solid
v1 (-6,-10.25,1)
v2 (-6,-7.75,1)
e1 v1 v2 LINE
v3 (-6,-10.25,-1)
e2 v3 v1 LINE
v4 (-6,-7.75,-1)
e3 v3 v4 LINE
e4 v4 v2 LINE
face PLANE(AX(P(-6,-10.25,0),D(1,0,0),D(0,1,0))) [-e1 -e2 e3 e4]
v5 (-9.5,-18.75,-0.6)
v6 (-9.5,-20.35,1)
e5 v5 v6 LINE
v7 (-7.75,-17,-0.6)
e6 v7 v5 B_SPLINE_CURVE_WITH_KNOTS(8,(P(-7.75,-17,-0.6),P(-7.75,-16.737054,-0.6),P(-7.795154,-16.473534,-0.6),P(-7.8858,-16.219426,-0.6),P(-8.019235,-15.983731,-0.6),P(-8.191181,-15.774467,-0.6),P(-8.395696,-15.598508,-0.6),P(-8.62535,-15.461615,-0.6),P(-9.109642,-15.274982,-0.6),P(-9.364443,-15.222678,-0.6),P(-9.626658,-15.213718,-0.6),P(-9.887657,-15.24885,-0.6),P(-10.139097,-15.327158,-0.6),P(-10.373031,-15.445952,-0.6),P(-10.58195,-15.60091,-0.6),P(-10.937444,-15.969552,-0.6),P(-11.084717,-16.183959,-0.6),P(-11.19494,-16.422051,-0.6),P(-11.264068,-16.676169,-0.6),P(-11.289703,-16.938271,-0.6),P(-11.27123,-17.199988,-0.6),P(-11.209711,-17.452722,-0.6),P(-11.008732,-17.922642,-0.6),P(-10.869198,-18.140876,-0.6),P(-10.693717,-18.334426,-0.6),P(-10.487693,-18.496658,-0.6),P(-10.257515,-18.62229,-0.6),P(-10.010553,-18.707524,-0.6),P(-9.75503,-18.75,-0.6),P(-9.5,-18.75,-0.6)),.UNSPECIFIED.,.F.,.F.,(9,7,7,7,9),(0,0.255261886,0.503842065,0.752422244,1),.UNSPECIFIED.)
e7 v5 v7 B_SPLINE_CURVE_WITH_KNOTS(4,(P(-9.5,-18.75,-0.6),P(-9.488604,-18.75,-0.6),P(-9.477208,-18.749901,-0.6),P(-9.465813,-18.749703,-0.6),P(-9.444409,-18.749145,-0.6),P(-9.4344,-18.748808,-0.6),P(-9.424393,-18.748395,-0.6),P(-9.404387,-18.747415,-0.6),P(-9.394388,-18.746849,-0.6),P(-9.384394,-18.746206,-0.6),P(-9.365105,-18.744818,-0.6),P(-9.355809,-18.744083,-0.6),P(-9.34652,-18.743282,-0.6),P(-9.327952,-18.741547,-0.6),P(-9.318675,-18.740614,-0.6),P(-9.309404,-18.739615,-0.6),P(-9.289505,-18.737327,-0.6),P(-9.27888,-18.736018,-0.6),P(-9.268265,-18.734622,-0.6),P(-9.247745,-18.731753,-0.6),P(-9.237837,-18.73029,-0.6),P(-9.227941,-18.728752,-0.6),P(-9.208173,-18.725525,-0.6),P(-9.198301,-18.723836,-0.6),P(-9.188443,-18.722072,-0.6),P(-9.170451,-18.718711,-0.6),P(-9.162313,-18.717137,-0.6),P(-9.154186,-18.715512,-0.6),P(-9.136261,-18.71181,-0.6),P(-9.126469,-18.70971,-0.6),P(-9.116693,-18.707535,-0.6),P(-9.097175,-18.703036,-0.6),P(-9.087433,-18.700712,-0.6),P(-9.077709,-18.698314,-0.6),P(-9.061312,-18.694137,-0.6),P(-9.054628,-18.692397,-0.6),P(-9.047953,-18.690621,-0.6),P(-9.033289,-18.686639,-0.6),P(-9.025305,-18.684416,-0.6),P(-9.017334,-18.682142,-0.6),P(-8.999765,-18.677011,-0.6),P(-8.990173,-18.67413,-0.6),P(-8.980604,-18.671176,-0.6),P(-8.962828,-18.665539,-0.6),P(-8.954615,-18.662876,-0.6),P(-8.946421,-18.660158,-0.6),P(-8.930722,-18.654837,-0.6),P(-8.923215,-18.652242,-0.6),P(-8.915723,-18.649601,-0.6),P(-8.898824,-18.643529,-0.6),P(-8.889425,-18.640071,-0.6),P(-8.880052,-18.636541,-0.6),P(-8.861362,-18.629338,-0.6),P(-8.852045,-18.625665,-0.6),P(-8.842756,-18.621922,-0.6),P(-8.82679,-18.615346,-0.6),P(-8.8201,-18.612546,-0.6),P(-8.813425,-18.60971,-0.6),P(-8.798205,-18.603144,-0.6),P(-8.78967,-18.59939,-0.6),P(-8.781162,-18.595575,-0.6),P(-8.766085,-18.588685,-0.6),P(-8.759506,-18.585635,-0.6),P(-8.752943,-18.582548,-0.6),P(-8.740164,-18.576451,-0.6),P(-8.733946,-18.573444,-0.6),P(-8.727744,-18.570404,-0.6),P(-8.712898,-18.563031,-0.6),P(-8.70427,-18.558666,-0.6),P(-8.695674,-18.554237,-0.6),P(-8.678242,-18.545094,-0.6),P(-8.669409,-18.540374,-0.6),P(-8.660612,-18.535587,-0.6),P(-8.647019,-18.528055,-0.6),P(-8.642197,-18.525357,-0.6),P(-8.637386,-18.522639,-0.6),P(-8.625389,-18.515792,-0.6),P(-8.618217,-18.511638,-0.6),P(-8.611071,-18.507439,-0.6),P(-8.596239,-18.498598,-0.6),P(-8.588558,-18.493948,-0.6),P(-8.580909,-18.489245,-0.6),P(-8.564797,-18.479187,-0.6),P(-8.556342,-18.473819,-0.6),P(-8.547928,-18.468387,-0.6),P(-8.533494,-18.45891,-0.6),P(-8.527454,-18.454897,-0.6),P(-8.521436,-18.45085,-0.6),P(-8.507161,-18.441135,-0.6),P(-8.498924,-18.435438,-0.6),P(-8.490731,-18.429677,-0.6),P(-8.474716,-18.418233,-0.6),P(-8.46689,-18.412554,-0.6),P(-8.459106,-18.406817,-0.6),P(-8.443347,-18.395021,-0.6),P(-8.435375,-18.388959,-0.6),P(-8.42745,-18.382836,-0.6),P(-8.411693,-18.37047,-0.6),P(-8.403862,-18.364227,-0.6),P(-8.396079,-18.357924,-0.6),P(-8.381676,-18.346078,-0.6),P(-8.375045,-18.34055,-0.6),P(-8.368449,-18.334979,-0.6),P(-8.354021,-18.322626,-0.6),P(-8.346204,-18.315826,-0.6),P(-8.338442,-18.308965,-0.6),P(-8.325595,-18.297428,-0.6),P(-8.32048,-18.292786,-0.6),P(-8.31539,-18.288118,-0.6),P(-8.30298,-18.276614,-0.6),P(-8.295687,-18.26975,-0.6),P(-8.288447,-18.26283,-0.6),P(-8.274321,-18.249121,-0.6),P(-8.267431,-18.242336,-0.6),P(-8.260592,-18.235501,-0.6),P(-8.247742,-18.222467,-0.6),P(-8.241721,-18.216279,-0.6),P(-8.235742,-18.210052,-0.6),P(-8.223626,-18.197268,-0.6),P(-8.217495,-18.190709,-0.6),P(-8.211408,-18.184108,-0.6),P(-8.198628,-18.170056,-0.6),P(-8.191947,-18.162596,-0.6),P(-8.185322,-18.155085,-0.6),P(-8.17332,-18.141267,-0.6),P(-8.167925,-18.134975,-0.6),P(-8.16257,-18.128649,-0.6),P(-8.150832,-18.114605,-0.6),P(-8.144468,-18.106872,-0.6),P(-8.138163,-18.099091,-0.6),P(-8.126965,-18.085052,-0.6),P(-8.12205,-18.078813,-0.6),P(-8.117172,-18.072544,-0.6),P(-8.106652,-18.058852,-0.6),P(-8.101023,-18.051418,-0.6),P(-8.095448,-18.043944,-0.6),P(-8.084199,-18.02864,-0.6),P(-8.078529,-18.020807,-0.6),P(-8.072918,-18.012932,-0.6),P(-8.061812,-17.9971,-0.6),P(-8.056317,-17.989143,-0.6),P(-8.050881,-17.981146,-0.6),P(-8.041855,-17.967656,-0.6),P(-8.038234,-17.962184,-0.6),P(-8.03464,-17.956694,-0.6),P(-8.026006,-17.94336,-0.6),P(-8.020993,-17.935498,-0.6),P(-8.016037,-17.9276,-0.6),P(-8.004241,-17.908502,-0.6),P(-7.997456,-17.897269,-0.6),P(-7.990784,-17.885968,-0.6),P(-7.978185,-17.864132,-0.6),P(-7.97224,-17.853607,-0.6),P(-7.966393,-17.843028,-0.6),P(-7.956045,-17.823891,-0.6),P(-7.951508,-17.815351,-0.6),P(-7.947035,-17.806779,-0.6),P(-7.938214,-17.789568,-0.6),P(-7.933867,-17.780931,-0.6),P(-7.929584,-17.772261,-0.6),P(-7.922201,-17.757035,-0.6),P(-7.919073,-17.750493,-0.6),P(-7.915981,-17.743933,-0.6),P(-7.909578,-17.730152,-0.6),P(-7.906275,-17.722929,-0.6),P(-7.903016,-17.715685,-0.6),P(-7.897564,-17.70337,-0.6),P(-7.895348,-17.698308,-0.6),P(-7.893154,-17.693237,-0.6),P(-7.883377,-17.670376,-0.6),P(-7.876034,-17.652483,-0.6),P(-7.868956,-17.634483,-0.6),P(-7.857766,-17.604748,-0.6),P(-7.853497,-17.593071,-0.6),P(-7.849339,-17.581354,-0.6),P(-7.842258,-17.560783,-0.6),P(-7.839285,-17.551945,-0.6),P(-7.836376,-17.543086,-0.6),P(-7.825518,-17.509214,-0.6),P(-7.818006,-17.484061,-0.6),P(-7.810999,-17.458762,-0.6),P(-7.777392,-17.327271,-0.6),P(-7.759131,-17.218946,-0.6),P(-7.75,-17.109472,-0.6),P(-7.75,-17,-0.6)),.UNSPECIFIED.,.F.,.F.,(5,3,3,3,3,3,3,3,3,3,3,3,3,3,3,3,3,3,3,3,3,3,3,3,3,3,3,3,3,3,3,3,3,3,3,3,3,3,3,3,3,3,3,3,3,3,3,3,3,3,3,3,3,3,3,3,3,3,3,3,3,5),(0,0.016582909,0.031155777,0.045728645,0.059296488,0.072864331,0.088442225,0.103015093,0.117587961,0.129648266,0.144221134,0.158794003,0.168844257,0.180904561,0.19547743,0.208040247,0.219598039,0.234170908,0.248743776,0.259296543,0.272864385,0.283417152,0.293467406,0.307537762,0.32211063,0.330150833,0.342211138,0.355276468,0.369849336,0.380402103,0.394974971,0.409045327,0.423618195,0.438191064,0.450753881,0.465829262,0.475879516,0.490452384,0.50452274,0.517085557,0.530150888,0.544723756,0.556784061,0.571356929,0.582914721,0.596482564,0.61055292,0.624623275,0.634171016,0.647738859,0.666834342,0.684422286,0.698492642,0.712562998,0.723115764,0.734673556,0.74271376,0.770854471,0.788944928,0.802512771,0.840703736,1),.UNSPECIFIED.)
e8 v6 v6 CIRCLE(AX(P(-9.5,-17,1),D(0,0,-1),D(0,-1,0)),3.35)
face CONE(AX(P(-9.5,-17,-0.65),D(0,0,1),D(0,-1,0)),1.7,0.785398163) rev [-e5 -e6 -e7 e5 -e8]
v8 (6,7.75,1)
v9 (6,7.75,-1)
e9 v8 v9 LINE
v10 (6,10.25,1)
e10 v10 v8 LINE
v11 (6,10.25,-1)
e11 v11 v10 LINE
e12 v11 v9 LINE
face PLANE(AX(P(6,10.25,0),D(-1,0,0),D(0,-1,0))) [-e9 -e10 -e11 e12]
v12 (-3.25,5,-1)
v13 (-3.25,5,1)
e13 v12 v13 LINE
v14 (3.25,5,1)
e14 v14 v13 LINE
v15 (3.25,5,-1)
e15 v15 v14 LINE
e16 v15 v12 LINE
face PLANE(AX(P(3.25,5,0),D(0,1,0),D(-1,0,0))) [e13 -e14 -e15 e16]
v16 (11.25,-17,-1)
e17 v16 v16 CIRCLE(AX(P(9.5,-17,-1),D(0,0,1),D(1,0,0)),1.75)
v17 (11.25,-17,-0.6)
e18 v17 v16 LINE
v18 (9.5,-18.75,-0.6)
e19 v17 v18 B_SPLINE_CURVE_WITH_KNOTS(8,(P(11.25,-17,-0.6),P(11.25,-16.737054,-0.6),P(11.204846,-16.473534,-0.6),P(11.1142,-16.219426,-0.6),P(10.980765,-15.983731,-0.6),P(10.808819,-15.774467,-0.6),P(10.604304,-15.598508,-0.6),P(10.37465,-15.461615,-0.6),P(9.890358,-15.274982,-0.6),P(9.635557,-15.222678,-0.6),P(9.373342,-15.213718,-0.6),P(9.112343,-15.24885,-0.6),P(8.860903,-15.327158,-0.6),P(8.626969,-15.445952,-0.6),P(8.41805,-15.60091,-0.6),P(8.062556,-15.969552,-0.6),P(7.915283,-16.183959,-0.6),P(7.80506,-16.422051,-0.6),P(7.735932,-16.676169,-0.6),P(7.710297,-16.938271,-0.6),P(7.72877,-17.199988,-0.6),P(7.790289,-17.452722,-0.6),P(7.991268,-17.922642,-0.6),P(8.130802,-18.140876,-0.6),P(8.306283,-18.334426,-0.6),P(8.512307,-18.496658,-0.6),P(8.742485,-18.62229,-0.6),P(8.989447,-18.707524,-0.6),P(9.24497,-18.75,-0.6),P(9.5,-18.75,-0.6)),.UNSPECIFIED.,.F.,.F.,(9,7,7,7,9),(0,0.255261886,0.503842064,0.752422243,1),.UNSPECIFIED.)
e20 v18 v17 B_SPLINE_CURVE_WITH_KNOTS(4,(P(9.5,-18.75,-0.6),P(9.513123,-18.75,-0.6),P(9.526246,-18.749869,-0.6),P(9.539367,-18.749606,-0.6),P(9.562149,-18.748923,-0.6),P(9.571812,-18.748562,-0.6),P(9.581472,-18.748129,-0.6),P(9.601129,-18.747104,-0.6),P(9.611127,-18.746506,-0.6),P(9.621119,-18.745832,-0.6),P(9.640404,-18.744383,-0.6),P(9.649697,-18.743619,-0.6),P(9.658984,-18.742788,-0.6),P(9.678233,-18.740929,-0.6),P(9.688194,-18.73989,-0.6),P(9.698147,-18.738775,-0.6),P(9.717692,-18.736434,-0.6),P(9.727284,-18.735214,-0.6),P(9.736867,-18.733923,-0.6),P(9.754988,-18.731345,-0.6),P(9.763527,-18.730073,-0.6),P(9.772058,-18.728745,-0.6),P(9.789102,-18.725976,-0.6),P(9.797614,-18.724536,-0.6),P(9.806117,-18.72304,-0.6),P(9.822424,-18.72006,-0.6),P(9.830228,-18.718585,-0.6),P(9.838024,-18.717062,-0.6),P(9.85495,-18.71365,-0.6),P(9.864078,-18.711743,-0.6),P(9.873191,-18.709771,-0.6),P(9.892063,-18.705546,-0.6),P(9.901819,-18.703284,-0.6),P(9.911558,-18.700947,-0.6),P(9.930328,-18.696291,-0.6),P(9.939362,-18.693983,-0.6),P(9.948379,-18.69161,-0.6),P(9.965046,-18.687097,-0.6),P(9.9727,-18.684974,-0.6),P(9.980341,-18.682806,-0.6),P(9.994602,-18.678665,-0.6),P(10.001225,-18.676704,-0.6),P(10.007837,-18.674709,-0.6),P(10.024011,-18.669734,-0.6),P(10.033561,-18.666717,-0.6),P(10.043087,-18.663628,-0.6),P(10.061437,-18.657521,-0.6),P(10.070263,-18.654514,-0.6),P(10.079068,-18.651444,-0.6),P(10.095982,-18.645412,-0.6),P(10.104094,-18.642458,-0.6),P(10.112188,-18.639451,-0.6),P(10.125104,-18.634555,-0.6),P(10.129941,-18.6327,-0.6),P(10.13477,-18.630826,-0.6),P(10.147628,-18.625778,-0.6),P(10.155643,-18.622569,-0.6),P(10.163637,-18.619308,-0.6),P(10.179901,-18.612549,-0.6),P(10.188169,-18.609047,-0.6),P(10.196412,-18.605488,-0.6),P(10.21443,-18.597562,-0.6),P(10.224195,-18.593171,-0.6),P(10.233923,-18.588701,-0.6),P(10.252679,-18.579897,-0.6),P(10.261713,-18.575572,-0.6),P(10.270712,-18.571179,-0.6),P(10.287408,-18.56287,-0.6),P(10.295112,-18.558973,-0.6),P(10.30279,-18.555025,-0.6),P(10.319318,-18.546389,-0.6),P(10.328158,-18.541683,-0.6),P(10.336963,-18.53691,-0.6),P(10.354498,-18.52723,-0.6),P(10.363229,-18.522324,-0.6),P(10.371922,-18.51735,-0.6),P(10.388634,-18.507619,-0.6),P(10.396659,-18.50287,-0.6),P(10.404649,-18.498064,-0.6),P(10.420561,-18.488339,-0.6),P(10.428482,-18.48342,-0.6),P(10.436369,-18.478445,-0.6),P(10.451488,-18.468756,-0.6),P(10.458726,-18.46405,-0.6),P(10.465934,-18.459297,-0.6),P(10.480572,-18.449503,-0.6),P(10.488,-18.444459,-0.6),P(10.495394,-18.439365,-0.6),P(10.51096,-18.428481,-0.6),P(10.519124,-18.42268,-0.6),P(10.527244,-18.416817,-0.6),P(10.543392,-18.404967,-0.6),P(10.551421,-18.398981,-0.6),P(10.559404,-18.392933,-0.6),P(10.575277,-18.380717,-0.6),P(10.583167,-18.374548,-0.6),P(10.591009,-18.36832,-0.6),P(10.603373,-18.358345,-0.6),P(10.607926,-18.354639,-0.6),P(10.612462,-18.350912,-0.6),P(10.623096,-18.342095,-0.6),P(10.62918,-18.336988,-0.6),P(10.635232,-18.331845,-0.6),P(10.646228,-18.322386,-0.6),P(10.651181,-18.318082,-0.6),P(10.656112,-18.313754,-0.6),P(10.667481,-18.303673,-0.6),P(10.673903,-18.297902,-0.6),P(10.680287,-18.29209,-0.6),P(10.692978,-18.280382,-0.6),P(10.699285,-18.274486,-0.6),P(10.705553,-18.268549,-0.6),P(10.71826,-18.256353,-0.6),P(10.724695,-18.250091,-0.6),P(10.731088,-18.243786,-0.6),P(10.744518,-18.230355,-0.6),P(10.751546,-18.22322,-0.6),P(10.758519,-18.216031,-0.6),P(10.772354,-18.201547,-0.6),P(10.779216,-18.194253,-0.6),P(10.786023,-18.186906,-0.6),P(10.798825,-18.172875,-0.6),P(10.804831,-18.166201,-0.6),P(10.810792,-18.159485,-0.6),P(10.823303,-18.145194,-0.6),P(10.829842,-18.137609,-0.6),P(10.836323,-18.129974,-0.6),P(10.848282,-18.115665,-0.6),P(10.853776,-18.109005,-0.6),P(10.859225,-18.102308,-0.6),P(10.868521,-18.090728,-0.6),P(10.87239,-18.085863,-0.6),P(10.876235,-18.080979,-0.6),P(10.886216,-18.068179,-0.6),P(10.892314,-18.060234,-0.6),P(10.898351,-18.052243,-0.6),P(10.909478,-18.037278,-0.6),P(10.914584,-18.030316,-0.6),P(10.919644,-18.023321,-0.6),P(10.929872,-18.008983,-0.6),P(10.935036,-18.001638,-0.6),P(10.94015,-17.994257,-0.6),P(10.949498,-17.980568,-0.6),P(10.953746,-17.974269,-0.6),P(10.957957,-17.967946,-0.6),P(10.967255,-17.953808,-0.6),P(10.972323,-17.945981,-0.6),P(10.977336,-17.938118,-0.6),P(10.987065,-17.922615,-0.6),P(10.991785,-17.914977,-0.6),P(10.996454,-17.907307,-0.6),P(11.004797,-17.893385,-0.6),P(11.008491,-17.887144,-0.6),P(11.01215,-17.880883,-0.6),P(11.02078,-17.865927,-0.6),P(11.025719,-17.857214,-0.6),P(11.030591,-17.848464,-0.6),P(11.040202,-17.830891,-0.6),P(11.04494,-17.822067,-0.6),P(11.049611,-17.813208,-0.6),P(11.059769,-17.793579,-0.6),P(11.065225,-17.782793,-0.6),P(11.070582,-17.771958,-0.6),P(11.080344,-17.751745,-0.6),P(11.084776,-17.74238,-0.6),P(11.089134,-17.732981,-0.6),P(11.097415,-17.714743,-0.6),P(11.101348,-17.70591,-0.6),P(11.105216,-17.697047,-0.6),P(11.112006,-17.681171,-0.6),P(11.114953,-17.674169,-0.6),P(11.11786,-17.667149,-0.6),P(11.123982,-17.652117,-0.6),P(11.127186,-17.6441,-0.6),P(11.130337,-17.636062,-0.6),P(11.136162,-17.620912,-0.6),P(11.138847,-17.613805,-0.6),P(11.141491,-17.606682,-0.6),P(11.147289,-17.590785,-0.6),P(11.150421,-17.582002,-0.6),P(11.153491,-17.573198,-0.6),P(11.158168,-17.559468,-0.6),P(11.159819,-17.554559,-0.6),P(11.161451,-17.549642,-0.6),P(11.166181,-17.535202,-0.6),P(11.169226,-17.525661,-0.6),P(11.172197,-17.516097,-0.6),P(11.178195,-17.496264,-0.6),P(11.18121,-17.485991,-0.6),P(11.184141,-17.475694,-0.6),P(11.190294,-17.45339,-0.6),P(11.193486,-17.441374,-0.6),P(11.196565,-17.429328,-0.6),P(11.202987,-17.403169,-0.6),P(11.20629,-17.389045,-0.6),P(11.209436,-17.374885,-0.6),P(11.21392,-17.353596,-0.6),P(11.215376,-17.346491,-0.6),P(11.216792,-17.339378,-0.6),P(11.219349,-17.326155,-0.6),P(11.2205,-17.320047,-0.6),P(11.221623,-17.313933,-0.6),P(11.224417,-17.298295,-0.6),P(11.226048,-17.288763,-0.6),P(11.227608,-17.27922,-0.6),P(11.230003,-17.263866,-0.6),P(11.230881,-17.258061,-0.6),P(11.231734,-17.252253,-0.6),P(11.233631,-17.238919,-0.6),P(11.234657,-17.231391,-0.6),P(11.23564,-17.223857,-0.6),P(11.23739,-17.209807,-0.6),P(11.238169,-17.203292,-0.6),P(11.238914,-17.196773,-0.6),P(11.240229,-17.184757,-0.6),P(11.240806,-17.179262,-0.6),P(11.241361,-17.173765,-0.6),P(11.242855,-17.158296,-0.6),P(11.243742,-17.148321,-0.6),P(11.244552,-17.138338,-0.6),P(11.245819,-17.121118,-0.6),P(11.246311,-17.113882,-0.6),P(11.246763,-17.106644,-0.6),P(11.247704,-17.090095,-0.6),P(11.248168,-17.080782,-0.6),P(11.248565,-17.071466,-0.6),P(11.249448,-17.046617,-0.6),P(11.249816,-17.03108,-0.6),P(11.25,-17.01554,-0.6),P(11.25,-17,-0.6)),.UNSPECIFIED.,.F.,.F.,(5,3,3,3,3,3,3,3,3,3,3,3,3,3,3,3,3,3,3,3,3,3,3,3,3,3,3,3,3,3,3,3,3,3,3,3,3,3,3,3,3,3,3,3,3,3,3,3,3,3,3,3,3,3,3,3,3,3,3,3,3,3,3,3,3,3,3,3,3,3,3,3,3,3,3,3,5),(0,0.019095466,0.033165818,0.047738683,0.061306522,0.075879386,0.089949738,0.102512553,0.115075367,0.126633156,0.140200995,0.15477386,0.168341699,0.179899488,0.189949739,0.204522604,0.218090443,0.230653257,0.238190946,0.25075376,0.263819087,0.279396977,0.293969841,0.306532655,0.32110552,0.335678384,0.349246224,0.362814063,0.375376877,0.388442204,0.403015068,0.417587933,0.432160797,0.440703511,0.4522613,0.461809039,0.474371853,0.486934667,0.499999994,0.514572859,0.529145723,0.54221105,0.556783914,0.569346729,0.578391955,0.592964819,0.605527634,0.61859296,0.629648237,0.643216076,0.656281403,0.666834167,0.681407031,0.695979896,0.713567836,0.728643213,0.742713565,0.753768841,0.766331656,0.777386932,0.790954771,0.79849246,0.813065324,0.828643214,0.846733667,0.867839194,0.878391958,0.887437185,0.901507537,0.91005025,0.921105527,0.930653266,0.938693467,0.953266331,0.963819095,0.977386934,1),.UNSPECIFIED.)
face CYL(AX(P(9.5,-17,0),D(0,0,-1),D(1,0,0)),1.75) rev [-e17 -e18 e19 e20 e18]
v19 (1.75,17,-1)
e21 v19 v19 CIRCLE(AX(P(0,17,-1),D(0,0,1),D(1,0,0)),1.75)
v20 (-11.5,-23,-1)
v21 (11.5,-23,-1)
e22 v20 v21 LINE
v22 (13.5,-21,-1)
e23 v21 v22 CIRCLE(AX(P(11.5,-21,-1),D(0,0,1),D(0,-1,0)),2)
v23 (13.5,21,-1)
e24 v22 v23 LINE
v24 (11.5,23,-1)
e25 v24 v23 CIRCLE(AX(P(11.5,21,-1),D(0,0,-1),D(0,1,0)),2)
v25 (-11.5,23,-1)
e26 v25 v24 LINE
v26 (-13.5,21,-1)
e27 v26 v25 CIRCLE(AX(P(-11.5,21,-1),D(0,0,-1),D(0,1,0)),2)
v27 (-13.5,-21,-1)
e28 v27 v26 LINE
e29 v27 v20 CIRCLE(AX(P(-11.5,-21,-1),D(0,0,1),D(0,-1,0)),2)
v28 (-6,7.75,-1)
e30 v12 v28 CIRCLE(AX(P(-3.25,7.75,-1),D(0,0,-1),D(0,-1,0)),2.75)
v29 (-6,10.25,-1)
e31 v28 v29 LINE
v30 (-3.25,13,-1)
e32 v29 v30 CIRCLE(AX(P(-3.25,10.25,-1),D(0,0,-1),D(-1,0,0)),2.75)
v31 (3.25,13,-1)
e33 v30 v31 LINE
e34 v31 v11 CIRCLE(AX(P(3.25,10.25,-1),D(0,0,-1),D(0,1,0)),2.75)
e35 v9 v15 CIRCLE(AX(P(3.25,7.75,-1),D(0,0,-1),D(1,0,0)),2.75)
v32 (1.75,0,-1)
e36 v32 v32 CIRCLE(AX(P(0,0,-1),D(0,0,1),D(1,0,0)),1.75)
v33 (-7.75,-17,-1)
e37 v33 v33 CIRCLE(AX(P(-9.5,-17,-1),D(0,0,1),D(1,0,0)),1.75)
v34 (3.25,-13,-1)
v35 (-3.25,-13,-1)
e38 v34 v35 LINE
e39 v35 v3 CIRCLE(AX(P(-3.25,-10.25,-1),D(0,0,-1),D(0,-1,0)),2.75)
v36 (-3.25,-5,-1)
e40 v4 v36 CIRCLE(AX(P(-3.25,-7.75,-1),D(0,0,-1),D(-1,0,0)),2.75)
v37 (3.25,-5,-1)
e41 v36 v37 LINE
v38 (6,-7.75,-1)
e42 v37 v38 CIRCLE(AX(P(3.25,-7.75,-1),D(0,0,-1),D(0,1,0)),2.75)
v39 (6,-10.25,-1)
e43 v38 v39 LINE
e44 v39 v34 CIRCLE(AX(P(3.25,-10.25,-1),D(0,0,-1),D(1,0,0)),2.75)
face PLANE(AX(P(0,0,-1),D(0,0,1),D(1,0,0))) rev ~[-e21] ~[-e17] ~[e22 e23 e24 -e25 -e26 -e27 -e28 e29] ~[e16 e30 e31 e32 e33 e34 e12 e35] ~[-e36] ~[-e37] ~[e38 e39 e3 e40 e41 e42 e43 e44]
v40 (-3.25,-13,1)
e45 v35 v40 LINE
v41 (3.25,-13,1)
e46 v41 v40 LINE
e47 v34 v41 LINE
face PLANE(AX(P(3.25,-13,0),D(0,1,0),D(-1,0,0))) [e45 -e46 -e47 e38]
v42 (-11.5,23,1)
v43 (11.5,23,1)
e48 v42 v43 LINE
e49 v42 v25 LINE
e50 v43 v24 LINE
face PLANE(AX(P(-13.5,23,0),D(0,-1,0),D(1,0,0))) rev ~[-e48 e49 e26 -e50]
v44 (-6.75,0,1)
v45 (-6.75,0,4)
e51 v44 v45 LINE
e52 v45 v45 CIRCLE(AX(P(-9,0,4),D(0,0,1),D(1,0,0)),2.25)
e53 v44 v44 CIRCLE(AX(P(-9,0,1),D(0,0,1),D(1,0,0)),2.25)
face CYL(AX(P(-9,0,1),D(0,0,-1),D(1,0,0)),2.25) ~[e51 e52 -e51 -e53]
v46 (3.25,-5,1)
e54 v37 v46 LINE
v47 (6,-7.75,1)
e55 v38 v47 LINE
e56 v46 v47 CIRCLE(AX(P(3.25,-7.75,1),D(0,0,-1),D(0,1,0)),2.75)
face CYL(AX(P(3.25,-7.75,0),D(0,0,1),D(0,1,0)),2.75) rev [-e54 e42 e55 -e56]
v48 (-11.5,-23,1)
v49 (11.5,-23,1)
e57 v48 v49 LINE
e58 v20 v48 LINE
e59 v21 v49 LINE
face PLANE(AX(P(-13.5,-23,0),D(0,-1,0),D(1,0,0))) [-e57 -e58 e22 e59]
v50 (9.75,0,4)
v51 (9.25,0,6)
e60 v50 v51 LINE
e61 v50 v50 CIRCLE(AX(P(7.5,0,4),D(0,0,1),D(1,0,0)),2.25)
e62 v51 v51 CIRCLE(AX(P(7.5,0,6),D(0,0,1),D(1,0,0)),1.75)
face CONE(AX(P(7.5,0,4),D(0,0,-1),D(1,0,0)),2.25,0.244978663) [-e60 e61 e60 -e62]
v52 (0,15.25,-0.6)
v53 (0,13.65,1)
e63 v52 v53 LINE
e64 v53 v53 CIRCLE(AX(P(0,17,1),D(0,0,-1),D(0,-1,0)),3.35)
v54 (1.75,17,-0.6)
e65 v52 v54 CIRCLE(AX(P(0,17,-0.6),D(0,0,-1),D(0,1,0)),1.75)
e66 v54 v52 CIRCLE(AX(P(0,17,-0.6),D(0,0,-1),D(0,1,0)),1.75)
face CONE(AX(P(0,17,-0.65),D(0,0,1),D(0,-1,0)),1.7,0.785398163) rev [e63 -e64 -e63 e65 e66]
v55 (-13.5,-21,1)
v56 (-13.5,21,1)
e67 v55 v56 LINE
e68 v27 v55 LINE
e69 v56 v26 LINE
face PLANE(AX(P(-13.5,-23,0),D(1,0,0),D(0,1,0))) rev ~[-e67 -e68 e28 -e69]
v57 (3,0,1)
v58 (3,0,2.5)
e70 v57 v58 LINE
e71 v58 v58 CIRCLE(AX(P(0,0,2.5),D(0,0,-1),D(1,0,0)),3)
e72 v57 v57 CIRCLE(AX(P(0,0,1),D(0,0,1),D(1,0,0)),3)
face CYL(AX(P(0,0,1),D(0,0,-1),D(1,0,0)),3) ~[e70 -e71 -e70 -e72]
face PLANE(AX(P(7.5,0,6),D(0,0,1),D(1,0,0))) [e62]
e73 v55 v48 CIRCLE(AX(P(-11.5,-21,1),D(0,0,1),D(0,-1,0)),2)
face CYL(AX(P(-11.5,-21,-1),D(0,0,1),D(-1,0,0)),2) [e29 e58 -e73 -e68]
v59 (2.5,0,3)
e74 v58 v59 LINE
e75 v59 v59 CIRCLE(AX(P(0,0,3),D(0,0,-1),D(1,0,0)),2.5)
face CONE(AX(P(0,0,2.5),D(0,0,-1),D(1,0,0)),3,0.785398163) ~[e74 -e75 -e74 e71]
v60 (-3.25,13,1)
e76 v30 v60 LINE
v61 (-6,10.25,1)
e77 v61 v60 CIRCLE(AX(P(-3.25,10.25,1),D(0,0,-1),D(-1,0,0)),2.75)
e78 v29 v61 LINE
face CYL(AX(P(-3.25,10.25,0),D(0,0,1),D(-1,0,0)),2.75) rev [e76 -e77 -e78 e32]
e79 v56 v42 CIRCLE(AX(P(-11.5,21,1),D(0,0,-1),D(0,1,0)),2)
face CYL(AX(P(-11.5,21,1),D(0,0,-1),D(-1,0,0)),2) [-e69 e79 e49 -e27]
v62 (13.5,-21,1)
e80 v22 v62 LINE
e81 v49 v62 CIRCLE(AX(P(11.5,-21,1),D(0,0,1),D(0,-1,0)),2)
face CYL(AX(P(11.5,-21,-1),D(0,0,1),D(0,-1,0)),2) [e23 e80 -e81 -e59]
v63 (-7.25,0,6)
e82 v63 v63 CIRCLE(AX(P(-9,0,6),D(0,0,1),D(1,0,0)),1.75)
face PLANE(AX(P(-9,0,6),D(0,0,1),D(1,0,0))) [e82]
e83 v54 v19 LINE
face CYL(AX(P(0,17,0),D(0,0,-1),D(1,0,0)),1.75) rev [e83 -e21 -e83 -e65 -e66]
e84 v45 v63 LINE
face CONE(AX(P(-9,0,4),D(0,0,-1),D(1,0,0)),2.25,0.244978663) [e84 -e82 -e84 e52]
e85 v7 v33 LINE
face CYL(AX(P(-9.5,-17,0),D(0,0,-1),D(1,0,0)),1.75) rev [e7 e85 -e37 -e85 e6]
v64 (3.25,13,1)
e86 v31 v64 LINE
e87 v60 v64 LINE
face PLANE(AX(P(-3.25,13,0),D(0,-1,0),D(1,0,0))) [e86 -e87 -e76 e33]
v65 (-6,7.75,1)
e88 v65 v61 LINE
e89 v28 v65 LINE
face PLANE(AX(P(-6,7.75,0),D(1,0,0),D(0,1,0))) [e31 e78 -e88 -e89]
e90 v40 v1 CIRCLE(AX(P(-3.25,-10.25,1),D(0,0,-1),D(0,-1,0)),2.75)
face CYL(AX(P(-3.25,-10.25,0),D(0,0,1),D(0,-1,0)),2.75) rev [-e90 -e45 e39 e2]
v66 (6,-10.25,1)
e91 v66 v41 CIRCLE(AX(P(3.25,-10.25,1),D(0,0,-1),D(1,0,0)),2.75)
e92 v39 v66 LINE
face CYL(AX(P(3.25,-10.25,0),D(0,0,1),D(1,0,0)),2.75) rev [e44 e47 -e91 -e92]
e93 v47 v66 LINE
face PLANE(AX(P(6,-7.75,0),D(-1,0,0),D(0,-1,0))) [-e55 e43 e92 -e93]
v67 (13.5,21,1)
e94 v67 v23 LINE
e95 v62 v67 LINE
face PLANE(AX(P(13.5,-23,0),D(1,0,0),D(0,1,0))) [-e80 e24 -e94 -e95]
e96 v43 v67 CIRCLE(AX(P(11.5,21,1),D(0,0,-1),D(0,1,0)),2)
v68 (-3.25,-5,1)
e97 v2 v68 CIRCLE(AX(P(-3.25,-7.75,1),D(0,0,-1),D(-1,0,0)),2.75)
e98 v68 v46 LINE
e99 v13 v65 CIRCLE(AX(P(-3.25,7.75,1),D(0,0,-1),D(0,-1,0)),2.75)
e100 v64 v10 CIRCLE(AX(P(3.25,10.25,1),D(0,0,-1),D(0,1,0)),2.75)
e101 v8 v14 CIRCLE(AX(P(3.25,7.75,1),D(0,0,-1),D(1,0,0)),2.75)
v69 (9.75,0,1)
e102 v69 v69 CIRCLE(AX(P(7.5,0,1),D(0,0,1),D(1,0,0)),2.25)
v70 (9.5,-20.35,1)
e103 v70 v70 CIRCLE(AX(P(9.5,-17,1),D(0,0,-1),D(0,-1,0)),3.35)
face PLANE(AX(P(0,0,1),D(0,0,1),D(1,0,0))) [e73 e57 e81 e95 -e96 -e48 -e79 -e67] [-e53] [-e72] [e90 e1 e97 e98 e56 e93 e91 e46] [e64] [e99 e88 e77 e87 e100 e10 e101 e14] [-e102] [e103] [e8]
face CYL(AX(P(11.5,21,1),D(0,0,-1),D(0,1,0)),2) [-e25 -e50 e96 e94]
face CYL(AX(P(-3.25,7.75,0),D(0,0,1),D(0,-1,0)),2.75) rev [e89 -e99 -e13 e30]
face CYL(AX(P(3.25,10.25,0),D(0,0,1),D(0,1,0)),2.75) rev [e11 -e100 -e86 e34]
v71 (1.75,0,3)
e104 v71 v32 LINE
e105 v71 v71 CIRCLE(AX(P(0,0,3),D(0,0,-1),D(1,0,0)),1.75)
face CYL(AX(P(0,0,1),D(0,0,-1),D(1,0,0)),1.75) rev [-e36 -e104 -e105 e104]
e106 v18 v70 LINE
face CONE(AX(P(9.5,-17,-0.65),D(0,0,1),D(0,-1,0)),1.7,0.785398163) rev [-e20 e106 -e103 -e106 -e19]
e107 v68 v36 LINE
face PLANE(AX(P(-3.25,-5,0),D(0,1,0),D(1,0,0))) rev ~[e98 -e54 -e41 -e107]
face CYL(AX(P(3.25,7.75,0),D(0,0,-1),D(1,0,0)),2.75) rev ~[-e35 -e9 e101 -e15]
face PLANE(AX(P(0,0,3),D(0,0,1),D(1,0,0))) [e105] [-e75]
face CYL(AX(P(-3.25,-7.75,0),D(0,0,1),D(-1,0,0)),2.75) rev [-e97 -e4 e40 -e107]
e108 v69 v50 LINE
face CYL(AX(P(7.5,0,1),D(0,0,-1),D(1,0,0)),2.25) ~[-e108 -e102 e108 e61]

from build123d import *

# Parameters (mm, degrees)
SKETCH1_W                                    = 27
SKETCH1_H                                    = 46
SKETCH1_R                                    = 1.75
BOSS_EXTRUDE1_DEPTH                          = 1
SKETCH2_R                                    = 3
SKETCH2_R_2                                  = 1.75
SKETCH2_R_3                                  = 2.25
BOSS_EXTRUDE2_DEPTH                          = 5
SKETCH3_R                                    = 3.5
CUT_EXTRUDE1_DEPTH                           = 3
CHAMFER1_SIZE                                = 2
CHAMFER1_SIZE2                               = 0.5
CHAMFER1_PART_2_SIZE                         = 2
CHAMFER1_PART_2_SIZE2                        = 0.5
CHAMFER2_SIZE                                = 0.5
CSK_FOR_M3_FLAT_COUNTERSUNK_HEAD_SCR_2_COUNT = 2
CSK_FOR_M3_FLAT_COUNTERSUNK_HEAD_SCR_2_PITCH = 35.302266216
CSK_FOR_M3_FLAT_COUNTERSUNK_HEAD_SCR_3_COUNT = 2
CSK_FOR_M3_FLAT_COUNTERSUNK_HEAD_SCR_3_PITCH = 35.302266216
FILLET1_R                                    = 2


with BuildPart() as part:
    # Sketch1 → Boss-Extrude1 (new body, symmetric)
    with BuildSketch(Plane.XY):
        Rectangle(SKETCH1_W, SKETCH1_H)
        Circle(SKETCH1_R, mode=Mode.SUBTRACT)
        with Locations((0, 17)):
            Circle(SKETCH1_R, mode=Mode.SUBTRACT)
        with Locations((-9.5, -17)):
            Circle(SKETCH1_R, mode=Mode.SUBTRACT)
        with Locations((9.5, -17)):
            Circle(SKETCH1_R, mode=Mode.SUBTRACT)
        with BuildLine():
            Line((-3.25, 13), (3.25, 13))
            ThreePointArc((3.25, 13), (5.194543648, 12.194543648), (6, 10.25))
            Line((6, 10.25), (6, 7.75))
            ThreePointArc((6, 7.75), (5.194543648, 5.805456352), (3.25, 5))
            Line((3.25, 5), (-3.25, 5))
            ThreePointArc((-3.25, 5), (-5.194543648, 5.805456352), (-6, 7.75))
            Line((-6, 7.75), (-6, 10.25))
            ThreePointArc((-6, 10.25), (-5.194543648, 12.194543648), (-3.25, 13))
        make_face(mode=Mode.SUBTRACT)
        with BuildLine():
            Line((-3.25, -5), (3.25, -5))
            ThreePointArc((3.25, -5), (5.194543648, -5.805456352), (6, -7.75))
            Line((6, -7.75), (6, -10.25))
            ThreePointArc((6, -10.25), (5.194543648, -12.194543648), (3.25, -13))
            Line((3.25, -13), (-3.25, -13))
            ThreePointArc((-3.25, -13), (-5.194543648, -12.194543648), (-6, -10.25))
            Line((-6, -10.25), (-6, -7.75))
            ThreePointArc((-6, -7.75), (-5.194543648, -5.805456352), (-3.25, -5))
        make_face(mode=Mode.SUBTRACT)
    extrude(amount=BOSS_EXTRUDE1_DEPTH, both=True)

    # Sketch2 → Boss-Extrude2 (add)
    with BuildSketch(Plane.XY.offset(1)):
        Circle(SKETCH2_R)
        Circle(SKETCH2_R_2, mode=Mode.SUBTRACT)
        with Locations((-9, 0)):
            Circle(SKETCH2_R_3)
        with Locations((7.5, 0)):
            Circle(SKETCH2_R_3)
    extrude(amount=BOSS_EXTRUDE2_DEPTH)

    # Sketch3 → Cut-Extrude1 (cut)
    with BuildSketch(Plane.XY.offset(6)):
        Circle(SKETCH3_R)
    extrude(amount=-CUT_EXTRUDE1_DEPTH, mode=Mode.SUBTRACT)

    # Chamfer1
    chamfer1_edges = [part.edges().sort_by_distance(p)[0] for p in [
        (-11.25, 0, 6),
    ]]
    chamfer1_side = [part.faces().sort_by_distance(p)[0] for p in [
        (-11.25, 0, 3.5),
    ]]
    chamfer(chamfer1_edges, length=CHAMFER1_SIZE, length2=CHAMFER1_SIZE2, reference=chamfer1_side[0])

    # Chamfer1 part 2
    chamfer1_part_2_edges = [part.edges().sort_by_distance(p)[0] for p in [
        (5.25, 0, 6),
    ]]
    chamfer1_part_2_side = [part.faces().sort_by_distance(p)[0] for p in [
        (5.25, 0, 3.5),
    ]]
    chamfer(chamfer1_part_2_edges, length=CHAMFER1_PART_2_SIZE, length2=CHAMFER1_PART_2_SIZE2, reference=chamfer1_part_2_side[0])

    # Chamfer2
    chamfer2_edges = [part.edges().sort_by_distance(p)[0] for p in [
        (-3, 0, 3),
    ]]
    chamfer(chamfer2_edges, length=CHAMFER2_SIZE)

    # Sketch5 → CSK for M3 Flat Countersunk Head Screw1 (revolve, cut)
    with BuildSketch(Plane(origin=(0, 17, 1), x_dir=(0, -1, 0), z_dir=(1, 0, 0))):
        Polygon((0, 0), (0, 2), (1.7, 2), (1.7, 1.65), (3.35, 0), align=None)
    csk_for_m3_flat_countersunk_head_screw1 = revolve(axis=Axis((0, 17, 7.35), (0, 0, -1)), mode=Mode.SUBTRACT)

    # CSK for M3 Flat Countersunk Head Scr 2: CSK for M3 Flat Countersunk Head Screw1 ×2
    with Locations(*[Vector(-0.269104537, -0.963110974, 0) * (i * CSK_FOR_M3_FLAT_COUNTERSUNK_HEAD_SCR_2_PITCH) for i in range(1, CSK_FOR_M3_FLAT_COUNTERSUNK_HEAD_SCR_2_COUNT)]):
        add(csk_for_m3_flat_countersunk_head_screw1, mode=Mode.SUBTRACT)

    # CSK for M3 Flat Countersunk Head Scr 3: CSK for M3 Flat Countersunk Head Screw1 ×2
    with Locations(*[Vector(0.269104537, -0.963110974, 0) * (i * CSK_FOR_M3_FLAT_COUNTERSUNK_HEAD_SCR_3_PITCH) for i in range(1, CSK_FOR_M3_FLAT_COUNTERSUNK_HEAD_SCR_3_COUNT)]):
        add(csk_for_m3_flat_countersunk_head_screw1, mode=Mode.SUBTRACT)

    # Fillet1
    fillet1_edges = [part.edges().sort_by_distance(p)[0] for p in [
        (-13.5, 23, 0),
        (13.5, 23, 0),
        (13.5, -23, 0),
        (-13.5, -23, 0),
    ]]
    fillet(fillet1_edges, radius=FILLET1_R)


solid = part.part
